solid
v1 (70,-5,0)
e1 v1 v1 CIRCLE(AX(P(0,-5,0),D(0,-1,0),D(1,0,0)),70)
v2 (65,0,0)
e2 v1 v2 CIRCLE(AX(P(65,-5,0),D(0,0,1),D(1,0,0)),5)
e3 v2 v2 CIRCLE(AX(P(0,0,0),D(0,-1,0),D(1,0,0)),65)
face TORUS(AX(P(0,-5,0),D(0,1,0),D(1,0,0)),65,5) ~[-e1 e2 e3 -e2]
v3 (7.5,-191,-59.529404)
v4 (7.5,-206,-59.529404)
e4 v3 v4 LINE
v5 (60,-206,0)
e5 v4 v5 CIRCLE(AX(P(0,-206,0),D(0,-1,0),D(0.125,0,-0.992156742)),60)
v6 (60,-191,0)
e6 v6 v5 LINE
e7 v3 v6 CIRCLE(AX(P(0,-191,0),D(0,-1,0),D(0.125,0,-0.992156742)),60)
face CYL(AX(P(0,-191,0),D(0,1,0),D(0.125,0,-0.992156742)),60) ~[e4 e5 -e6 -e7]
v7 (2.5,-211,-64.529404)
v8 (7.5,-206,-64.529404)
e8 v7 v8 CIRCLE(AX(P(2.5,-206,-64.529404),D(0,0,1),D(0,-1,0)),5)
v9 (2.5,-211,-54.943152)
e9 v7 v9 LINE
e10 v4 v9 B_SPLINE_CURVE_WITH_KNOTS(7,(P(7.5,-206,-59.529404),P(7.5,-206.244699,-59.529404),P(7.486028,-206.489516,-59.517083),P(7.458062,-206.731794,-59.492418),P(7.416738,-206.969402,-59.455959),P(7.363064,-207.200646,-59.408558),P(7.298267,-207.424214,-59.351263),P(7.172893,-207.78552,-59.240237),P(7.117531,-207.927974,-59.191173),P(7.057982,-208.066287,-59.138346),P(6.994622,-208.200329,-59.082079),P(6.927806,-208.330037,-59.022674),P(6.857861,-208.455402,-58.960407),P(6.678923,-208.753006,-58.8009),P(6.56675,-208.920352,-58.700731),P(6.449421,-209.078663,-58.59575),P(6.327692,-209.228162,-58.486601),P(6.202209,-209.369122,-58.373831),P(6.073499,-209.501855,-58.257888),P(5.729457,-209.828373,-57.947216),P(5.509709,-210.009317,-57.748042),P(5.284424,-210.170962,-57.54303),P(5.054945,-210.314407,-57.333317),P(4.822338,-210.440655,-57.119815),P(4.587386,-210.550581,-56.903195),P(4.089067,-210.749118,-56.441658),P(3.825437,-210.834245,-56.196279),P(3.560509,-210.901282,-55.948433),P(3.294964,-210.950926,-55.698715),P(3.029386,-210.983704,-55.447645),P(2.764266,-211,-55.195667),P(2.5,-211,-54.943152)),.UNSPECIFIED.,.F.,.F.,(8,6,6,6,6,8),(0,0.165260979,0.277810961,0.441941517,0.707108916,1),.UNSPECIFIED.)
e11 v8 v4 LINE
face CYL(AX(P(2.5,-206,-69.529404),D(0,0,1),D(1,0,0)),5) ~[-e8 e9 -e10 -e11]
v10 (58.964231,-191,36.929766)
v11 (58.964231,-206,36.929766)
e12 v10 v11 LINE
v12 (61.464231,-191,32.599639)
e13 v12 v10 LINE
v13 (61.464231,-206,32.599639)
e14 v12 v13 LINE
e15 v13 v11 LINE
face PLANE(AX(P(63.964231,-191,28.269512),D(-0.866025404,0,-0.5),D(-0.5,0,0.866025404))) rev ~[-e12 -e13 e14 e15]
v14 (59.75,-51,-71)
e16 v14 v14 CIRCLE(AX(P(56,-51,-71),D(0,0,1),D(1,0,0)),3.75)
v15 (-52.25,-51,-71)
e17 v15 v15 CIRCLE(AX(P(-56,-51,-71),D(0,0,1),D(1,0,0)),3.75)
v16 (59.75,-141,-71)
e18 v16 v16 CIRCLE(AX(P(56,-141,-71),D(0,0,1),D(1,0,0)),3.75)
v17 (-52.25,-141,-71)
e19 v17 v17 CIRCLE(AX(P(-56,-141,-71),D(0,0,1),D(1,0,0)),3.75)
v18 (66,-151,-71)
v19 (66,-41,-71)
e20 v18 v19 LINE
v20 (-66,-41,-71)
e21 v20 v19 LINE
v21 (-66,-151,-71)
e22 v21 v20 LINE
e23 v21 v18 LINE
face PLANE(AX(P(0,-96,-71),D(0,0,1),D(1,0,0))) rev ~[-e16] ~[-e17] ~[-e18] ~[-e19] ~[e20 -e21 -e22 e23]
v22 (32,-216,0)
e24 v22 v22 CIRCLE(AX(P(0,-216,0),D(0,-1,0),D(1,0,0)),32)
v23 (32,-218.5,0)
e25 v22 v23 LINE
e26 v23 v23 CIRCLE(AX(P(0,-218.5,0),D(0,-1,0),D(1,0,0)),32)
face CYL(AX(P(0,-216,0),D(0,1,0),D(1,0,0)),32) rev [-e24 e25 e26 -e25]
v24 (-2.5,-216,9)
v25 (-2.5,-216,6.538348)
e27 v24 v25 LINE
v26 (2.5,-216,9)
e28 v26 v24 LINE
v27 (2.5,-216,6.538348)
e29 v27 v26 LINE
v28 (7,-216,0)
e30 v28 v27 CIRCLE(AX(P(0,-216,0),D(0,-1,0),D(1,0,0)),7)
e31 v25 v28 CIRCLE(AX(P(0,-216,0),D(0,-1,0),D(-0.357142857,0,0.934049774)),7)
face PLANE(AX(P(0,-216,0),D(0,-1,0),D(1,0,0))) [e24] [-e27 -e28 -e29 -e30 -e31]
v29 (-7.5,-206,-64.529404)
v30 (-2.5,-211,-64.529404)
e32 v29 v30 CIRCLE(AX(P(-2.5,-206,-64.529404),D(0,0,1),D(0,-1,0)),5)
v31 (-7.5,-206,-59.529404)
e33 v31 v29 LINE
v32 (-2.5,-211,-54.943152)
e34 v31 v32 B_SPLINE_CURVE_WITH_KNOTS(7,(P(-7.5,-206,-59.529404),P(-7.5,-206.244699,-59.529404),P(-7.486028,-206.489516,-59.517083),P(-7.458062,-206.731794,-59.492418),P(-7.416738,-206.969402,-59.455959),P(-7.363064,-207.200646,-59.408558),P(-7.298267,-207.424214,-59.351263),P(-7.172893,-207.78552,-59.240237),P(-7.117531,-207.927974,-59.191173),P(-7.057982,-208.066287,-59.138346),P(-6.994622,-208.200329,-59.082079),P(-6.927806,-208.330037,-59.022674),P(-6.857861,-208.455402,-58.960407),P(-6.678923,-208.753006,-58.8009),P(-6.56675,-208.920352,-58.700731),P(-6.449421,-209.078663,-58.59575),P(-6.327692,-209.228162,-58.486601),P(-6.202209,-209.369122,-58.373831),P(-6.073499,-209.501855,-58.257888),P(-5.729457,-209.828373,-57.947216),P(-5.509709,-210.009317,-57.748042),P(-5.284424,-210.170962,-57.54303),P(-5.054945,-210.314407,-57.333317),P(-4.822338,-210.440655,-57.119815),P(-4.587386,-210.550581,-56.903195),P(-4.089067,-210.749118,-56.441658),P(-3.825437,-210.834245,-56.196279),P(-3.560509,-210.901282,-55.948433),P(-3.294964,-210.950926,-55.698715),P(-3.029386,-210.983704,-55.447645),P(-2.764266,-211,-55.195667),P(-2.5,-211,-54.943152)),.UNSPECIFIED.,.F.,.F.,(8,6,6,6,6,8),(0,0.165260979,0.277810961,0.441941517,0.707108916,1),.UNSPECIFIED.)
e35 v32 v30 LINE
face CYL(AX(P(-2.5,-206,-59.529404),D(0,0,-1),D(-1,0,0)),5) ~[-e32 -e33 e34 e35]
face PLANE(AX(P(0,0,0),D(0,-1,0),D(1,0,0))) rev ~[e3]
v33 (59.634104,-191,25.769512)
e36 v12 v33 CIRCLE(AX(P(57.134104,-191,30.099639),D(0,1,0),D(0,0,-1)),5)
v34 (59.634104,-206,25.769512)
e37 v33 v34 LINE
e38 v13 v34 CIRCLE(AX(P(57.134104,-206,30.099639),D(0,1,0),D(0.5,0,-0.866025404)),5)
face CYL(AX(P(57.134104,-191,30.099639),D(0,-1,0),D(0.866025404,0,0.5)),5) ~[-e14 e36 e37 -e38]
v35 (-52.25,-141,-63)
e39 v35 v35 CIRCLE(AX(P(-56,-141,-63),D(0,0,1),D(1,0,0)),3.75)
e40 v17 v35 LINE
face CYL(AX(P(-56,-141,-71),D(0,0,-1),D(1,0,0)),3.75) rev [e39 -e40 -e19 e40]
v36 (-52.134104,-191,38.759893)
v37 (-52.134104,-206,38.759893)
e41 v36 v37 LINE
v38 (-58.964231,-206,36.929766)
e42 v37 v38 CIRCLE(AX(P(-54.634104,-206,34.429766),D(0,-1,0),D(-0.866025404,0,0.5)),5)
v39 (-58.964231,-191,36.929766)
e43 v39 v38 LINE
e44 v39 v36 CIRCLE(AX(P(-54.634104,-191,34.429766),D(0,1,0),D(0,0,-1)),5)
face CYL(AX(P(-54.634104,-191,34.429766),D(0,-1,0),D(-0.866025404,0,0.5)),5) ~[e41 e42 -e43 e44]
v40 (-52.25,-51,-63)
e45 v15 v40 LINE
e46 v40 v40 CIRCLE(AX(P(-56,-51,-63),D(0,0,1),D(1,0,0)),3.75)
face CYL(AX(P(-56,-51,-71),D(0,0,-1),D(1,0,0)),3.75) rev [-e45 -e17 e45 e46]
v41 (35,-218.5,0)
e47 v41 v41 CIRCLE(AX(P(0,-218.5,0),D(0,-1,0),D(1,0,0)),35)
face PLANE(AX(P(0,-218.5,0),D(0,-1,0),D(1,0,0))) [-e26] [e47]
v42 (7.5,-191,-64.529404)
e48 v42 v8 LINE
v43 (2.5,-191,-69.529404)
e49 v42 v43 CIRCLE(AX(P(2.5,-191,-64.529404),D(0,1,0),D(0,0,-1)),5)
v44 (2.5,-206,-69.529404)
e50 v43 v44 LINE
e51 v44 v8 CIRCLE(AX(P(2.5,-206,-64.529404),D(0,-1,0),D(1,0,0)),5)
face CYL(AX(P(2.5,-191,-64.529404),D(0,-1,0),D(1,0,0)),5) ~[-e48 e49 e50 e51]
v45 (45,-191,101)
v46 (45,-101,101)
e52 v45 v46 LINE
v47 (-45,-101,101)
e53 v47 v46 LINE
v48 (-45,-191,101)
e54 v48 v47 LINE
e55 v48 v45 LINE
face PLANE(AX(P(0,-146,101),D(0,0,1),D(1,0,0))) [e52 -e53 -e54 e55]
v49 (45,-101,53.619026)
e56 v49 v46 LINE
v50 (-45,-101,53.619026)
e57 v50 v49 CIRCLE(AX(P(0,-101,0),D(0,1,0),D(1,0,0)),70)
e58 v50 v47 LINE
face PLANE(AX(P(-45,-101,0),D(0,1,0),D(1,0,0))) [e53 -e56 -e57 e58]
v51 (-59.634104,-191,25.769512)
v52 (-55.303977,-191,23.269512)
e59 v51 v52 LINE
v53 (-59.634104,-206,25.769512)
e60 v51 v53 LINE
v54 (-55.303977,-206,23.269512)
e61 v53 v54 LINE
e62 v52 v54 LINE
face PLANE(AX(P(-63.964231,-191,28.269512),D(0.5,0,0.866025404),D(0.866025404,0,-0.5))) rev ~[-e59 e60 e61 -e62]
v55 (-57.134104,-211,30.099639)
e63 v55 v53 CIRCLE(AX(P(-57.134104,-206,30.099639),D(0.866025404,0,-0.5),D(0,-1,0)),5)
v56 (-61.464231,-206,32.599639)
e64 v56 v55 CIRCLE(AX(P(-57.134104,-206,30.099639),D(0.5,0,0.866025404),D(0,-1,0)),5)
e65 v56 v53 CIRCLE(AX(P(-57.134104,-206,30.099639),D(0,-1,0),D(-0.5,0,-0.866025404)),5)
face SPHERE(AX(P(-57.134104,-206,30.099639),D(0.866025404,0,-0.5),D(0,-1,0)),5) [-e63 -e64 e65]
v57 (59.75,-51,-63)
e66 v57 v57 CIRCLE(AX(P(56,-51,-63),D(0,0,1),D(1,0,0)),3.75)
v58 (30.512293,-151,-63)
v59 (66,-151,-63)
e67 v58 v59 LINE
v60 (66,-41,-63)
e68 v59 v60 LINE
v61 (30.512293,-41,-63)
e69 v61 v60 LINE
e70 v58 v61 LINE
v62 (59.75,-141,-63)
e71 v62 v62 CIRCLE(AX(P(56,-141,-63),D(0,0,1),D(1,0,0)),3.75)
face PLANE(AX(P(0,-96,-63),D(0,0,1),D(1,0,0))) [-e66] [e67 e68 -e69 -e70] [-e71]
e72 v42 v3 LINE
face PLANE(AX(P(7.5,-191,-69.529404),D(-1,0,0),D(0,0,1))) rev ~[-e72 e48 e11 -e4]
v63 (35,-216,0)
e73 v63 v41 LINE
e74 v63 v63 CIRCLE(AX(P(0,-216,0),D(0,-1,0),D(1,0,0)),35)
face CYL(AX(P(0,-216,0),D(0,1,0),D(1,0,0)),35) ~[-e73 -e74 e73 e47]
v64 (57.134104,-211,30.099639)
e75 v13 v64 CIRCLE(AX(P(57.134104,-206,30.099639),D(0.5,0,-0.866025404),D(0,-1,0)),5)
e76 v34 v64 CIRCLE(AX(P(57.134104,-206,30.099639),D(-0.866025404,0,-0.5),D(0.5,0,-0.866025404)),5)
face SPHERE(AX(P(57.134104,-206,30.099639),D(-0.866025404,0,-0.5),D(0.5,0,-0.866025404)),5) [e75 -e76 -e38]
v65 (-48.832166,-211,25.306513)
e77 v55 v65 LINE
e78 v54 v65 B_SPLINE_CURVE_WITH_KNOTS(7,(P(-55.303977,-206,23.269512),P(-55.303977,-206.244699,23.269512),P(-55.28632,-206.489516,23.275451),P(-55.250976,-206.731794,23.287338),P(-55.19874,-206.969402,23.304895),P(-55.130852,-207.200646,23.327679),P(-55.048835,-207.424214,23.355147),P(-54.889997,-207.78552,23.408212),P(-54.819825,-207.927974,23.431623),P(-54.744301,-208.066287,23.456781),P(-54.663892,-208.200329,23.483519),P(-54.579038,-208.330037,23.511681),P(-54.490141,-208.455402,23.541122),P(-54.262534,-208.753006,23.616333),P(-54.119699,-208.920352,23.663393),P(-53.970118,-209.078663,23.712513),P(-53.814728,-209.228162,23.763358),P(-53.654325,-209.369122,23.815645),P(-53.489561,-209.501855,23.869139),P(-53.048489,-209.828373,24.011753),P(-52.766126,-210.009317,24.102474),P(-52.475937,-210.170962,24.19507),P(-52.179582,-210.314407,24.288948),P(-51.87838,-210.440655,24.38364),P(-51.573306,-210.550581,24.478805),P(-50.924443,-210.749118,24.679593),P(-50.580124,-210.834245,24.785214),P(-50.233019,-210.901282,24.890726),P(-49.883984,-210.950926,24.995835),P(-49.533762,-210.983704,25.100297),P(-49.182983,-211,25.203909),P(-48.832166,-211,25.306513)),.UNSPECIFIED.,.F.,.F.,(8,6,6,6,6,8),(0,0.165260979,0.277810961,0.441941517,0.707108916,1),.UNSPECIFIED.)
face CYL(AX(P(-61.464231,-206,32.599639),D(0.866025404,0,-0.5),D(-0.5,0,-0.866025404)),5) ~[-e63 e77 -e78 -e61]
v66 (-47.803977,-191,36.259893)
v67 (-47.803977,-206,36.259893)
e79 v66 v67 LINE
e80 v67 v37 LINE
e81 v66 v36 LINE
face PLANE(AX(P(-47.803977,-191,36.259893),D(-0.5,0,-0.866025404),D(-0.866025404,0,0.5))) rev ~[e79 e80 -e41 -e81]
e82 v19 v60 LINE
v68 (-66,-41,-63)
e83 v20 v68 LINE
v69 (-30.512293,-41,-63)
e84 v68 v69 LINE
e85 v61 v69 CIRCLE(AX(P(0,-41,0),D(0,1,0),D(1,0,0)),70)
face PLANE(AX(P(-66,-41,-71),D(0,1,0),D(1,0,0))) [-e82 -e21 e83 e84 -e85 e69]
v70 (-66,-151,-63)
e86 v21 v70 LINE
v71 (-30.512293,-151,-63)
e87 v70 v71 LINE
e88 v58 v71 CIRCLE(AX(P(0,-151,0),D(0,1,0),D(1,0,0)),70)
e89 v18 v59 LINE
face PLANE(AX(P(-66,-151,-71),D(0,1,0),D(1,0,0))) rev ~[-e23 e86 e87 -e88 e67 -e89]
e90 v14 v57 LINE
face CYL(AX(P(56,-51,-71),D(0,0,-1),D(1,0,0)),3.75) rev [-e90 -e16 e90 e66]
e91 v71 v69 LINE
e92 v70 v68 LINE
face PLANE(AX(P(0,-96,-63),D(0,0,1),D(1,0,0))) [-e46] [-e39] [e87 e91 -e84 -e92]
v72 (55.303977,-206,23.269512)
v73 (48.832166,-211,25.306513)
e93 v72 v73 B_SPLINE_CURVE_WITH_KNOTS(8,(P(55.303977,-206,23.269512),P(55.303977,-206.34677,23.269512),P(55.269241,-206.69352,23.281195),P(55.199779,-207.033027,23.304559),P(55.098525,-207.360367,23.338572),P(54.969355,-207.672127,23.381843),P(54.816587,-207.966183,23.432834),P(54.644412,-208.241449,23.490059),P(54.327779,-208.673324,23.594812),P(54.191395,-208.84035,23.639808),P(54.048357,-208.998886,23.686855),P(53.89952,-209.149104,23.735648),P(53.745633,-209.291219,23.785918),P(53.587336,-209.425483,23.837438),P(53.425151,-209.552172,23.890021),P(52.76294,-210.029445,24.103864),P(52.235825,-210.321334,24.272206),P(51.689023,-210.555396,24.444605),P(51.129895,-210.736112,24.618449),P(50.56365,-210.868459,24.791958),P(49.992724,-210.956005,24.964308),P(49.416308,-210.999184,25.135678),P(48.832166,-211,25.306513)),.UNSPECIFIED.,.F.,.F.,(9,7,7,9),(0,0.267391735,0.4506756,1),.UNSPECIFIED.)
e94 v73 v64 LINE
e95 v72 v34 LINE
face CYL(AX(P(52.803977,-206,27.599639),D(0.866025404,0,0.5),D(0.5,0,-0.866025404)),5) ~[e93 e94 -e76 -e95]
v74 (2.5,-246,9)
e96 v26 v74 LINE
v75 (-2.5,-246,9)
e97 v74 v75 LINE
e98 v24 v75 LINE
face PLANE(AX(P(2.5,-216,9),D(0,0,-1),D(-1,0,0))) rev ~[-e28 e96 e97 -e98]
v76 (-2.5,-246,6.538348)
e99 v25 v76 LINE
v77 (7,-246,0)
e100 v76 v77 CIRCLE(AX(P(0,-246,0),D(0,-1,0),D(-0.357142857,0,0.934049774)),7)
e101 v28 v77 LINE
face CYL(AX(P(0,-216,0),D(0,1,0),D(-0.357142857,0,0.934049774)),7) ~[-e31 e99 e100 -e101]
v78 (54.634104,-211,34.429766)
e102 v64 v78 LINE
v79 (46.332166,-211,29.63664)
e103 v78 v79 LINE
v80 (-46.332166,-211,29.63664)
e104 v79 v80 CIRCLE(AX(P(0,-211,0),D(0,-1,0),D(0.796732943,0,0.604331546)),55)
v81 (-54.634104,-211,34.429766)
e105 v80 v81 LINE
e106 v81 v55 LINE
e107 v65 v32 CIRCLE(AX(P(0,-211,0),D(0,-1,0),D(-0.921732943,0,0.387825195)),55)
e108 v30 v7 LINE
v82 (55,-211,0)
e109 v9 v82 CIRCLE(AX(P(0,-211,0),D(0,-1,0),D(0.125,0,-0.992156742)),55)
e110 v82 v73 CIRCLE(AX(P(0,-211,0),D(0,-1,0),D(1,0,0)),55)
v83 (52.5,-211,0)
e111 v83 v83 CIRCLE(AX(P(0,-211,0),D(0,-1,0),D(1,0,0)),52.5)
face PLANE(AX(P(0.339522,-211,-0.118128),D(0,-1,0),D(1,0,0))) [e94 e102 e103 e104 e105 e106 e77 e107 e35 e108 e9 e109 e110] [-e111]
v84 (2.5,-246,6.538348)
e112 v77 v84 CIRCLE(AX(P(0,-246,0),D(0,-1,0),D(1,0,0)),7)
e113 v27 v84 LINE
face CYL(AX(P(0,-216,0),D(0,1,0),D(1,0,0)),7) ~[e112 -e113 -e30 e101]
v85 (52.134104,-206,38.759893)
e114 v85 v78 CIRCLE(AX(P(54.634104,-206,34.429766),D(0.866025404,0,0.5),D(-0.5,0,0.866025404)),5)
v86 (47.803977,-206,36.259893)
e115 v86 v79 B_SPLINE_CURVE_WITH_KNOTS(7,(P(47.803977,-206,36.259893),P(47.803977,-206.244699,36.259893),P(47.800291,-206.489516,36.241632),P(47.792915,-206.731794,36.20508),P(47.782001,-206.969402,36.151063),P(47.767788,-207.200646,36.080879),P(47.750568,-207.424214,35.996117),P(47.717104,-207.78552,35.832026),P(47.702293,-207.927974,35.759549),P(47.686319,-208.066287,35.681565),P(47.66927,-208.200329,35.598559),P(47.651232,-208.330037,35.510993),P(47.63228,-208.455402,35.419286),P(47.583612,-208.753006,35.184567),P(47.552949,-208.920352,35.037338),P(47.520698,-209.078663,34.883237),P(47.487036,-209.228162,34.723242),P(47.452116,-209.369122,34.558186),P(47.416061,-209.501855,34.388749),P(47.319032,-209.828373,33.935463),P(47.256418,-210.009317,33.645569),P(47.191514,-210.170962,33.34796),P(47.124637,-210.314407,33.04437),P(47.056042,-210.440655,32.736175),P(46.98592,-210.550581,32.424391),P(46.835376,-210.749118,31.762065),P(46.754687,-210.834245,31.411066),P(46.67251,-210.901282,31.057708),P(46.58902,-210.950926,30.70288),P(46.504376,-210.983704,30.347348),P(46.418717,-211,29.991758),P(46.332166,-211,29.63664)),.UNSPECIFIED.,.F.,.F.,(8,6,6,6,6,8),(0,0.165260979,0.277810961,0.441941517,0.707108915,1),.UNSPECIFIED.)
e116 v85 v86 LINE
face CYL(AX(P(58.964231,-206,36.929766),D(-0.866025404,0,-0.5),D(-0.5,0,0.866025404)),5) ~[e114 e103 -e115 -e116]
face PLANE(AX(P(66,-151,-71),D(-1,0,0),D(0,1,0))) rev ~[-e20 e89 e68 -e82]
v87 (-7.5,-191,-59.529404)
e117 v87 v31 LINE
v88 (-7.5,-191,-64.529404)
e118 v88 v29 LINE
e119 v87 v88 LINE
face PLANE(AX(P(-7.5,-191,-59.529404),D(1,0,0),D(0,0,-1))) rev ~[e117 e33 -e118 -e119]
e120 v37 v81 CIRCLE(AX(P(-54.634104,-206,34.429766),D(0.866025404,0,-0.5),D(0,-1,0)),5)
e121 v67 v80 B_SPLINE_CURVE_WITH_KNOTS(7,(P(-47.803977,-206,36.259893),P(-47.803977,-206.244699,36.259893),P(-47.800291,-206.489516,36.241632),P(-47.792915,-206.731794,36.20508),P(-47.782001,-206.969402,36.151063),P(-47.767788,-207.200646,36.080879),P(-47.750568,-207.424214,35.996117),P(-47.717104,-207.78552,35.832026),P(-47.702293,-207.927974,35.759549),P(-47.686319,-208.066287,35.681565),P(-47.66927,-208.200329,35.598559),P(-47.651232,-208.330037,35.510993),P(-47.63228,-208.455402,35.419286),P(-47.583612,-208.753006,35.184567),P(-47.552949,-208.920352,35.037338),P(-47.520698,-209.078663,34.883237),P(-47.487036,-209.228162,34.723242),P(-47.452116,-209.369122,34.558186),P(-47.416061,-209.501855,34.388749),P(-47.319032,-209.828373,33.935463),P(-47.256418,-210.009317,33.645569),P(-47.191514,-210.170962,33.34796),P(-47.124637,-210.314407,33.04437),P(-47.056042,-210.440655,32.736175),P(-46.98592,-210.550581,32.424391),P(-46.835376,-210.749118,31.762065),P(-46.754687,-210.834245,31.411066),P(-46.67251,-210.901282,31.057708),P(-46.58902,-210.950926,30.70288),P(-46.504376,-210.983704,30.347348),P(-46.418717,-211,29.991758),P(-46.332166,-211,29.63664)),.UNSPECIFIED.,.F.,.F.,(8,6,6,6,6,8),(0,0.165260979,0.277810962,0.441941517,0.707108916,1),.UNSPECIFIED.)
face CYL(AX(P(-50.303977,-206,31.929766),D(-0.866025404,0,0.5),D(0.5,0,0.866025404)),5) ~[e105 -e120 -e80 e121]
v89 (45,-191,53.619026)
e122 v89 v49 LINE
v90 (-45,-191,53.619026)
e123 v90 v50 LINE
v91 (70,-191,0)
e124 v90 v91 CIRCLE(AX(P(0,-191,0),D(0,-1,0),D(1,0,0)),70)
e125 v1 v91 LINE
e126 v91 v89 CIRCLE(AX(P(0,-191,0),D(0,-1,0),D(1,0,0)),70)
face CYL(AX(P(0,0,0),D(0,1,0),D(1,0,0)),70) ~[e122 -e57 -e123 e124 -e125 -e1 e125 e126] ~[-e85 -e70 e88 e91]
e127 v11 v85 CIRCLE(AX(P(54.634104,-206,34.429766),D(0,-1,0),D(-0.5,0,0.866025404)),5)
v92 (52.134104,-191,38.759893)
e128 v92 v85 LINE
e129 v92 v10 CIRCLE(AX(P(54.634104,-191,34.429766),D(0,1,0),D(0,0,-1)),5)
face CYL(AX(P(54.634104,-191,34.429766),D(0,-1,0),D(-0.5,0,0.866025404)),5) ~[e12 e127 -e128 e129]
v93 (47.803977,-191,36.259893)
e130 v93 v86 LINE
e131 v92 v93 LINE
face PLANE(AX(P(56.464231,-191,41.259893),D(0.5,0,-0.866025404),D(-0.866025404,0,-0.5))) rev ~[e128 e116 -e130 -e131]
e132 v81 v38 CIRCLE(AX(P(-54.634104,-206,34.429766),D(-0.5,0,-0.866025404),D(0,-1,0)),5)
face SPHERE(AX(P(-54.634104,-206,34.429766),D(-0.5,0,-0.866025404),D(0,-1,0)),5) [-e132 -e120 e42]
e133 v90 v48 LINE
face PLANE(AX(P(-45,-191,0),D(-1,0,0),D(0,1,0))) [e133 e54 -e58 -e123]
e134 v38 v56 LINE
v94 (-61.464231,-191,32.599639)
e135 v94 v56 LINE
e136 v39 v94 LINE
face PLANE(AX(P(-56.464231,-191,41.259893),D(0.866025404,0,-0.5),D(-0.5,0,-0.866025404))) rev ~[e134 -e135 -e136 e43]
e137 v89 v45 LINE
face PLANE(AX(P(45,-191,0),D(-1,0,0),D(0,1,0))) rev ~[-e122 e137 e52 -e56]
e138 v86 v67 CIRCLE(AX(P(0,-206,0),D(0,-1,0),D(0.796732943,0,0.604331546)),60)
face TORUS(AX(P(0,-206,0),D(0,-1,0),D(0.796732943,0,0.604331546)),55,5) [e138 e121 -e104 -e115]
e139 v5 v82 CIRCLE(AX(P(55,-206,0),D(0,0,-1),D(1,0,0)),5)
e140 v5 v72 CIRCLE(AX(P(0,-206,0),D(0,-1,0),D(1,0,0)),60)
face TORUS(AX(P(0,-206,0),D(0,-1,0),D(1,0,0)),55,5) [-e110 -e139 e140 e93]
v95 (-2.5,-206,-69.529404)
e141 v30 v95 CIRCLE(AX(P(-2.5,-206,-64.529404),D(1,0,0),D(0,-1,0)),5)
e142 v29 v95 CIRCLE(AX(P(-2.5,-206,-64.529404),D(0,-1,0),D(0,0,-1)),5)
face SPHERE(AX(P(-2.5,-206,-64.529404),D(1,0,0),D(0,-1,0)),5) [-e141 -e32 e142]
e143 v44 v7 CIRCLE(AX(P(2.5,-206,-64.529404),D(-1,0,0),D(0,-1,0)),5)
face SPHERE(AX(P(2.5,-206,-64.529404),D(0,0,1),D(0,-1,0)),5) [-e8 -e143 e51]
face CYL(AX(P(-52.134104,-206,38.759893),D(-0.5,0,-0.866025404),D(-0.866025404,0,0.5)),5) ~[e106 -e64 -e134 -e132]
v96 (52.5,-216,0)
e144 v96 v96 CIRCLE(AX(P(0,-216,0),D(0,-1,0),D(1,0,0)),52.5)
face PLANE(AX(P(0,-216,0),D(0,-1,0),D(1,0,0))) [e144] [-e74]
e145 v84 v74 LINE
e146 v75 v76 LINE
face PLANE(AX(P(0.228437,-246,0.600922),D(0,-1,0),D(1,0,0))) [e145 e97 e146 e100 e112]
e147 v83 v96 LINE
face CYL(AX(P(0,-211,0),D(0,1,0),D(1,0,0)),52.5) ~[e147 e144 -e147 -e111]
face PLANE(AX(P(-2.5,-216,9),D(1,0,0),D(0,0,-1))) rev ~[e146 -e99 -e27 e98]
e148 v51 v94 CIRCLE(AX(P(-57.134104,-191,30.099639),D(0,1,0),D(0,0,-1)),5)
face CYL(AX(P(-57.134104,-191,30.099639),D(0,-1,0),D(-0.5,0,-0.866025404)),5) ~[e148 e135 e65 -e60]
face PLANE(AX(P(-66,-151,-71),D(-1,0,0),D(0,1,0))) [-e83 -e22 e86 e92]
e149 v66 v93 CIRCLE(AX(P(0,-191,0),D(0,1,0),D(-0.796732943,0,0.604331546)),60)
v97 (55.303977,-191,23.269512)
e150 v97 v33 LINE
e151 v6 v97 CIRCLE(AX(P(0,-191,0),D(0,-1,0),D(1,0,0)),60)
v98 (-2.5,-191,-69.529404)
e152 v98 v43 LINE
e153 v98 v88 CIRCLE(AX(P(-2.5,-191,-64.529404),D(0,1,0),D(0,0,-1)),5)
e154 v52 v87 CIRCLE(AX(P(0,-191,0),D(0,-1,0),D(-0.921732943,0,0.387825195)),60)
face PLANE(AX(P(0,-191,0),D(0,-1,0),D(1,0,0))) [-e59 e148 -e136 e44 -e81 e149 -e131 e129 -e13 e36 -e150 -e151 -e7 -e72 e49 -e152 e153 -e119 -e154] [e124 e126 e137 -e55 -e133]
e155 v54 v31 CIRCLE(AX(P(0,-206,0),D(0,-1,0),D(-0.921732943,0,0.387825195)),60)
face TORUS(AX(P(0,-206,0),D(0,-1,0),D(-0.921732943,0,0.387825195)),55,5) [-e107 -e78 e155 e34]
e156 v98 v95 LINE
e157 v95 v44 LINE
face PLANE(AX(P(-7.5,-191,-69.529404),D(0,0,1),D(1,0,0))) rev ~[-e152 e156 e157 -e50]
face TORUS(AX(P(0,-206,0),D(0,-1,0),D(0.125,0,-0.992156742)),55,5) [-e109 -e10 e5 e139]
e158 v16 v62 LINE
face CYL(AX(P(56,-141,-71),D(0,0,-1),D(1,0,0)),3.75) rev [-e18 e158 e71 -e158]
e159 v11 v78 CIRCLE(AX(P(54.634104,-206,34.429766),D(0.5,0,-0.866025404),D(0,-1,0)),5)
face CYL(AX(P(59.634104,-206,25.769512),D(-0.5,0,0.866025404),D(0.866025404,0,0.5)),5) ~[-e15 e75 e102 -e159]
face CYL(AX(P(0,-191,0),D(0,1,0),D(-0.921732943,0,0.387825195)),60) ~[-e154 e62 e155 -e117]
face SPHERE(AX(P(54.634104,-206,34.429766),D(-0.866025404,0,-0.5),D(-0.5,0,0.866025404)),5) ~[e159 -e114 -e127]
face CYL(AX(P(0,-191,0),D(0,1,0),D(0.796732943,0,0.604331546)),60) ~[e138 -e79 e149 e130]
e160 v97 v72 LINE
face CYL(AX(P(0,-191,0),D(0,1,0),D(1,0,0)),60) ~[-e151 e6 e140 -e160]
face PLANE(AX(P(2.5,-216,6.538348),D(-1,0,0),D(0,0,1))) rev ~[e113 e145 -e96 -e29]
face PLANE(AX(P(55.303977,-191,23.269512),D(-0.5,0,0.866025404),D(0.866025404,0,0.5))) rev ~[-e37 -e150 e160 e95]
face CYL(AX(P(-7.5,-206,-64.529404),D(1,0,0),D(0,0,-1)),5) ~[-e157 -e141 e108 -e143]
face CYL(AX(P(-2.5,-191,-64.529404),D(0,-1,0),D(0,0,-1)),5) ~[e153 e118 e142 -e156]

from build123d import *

# Parameters (mm, degrees)
F0_R      = 70
F1_DEPTH  = 191
F3_DEPTH  = 20
F4_R      = 52.5
F5_DEPTH  = 5
F6_R      = 35
F6_R_2    = 32
F7_DEPTH  = 2.5
F9_DEPTH  = 30
F10_W     = 90
F10_H     = 90
F11_DEPTH = 101
F13_W     = 132
F13_H     = 110
F13_R     = 3.75
F14_DEPTH = 8
F15_R     = 5


with BuildPart() as f1:
    # F0 (on Front) → F1 (new body)
    with BuildSketch(Plane.XZ):
        Circle(F0_R)
    extrude(amount=F1_DEPTH)

    # F2 (on face) → F3 (join)
    with BuildSketch(Plane.XZ.offset(191)):
        with BuildLine():
            ThreePointArc((7.5, -59.529404499), (45, -39.686269666), (60, 0))
            ThreePointArc((60, 0), (58.8142780033, 11.8693177122), (55.3039765683, 23.2695117211))
            Line((55.3039765683, 23.2695117211), (47.8039765683, 36.2598927779))
            ThreePointArc((47.8039765683, 36.2598927779), (0, 60), (-47.8039765683, 36.2598927779))
            Line((-47.8039765683, 36.2598927779), (-55.3039765683, 23.2695117211))
            ThreePointArc((-55.3039765683, 23.2695117211), (-51.9615242271, -30), (-7.5, -59.529404499))
            Line((-7.5, -59.529404499), (7.5, -59.529404499))
        make_face()
        with BuildLine():
            Line((47.8039765683, 36.2598927779), (55.3039765683, 23.2695117211))
            ThreePointArc((55.3039765683, 23.2695117211), (51.9615242271, 30), (47.8039765683, 36.2598927779))
        make_face()
        with BuildLine():
            ThreePointArc((47.8039765683, 36.2598927779), (51.9615242271, 30), (55.3039765683, 23.2695117211))
            Line((55.3039765683, 23.2695117211), (63.9642306061, 28.2695117211))
            Line((63.9642306061, 28.2695117211), (56.4642306061, 41.2598927779))
            Line((56.4642306061, 41.2598927779), (47.8039765683, 36.2598927779))
        make_face()
        with BuildLine():
            Line((7.5, -69.529404499), (7.5, -59.529404499))
            ThreePointArc((7.5, -59.529404499), (0, -60), (-7.5, -59.529404499))
            Line((-7.5, -59.529404499), (-7.5, -69.529404499))
            Line((-7.5, -69.529404499), (7.5, -69.529404499))
        make_face()
        with BuildLine():
            ThreePointArc((-7.5, -59.529404499), (0, -60), (7.5, -59.529404499))
            Line((7.5, -59.529404499), (-7.5, -59.529404499))
        make_face()
        with BuildLine():
            Line((-55.3039765683, 23.2695117211), (-47.8039765683, 36.2598927779))
            ThreePointArc((-47.8039765683, 36.2598927779), (-51.9615242271, 30), (-55.3039765683, 23.2695117211))
        make_face()
        with BuildLine():
            ThreePointArc((-55.3039765683, 23.2695117211), (-51.9615242271, 30), (-47.8039765683, 36.2598927779))
            Line((-47.8039765683, 36.2598927779), (-56.4642306061, 41.2598927779))
            Line((-56.4642306061, 41.2598927779), (-63.9642306061, 28.2695117211))
            Line((-63.9642306061, 28.2695117211), (-55.3039765683, 23.2695117211))
        make_face()
    extrude(amount=F3_DEPTH)

    # F4 (on face) → F5 (join)
    with BuildSketch(Plane.XZ.offset(211)):
        Circle(F4_R)
    extrude(amount=F5_DEPTH)

    # F6 (on face) → F7 (join)
    with BuildSketch(Plane.XZ.offset(216)):
        Circle(F6_R)
        Circle(F6_R_2, mode=Mode.SUBTRACT)
    extrude(amount=F7_DEPTH)

    # F8 (on face) → F9 (join)
    with BuildSketch(Plane.XZ.offset(216)):
        with BuildLine():
            ThreePointArc((-2.5, 6.5383484153), (-3.9686269666, -5.7662812973), (7, 0))
            ThreePointArc((7, 0), (5.7662812973, 3.9686269666), (2.5, 6.5383484153))
            Line((2.5, 6.5383484153), (2.5, 4))
            Line((2.5, 4), (-2.5, 4))
            Line((-2.5, 4), (-2.5, 6.5383484153))
        make_face()
        with BuildLine():
            Line((2.5, 4), (2.5, 6.5383484153))
            ThreePointArc((2.5, 6.5383484153), (0, 7), (-2.5, 6.5383484153))
            Line((-2.5, 6.5383484153), (-2.5, 4))
            Line((-2.5, 4), (2.5, 4))
        make_face()
        with BuildLine():
            ThreePointArc((-2.5, 6.5383484153), (0, 7), (2.5, 6.5383484153))
            Line((2.5, 6.5383484153), (2.5, 9))
            Line((2.5, 9), (-2.5, 9))
            Line((-2.5, 9), (-2.5, 6.5383484153))
        make_face()
    extrude(amount=F9_DEPTH)

    # F10 (on Top) → F11 (join)
    with BuildSketch(Plane.XY):
        with Locations((0, -146)):
            Rectangle(F10_W, F10_H)
    extrude(amount=F11_DEPTH)

    # F13 (on offset) → F14 (join)
    with BuildSketch(Plane.XY.offset(-71)):
        with Locations((0, -96)):
            Rectangle(F13_W, F13_H)
        with Locations((-56, -141)):
            Circle(F13_R, mode=Mode.SUBTRACT)
        with Locations((56, -141)):
            Circle(F13_R, mode=Mode.SUBTRACT)
        with Locations((-56, -51)):
            Circle(F13_R, mode=Mode.SUBTRACT)
        with Locations((56, -51)):
            Circle(F13_R, mode=Mode.SUBTRACT)
    extrude(amount=F14_DEPTH)

    # F15
    f15_edges = [f1.edges().sort_by_distance(p)[0] for p in [
        (-70, 0, 0),
        (0, -211, 60),
        (52.134104, -211, 38.759893),
        (59.634104, -211, 25.769512),
        (-51.961524, -211, -30),
        (7.5, -211, -64.529404),
        (0, -211, -69.529404),
        (-7.5, -211, -64.529404),
        (51.961524, -211, -30),
        (-59.634104, -211, 25.769512),
        (-60.214231, -211, 34.764702),
        (-52.134104, -211, 38.759893),
        (-56.464231, -201, 41.259893),
        (-63.964231, -201, 28.269512),
        (56.464231, -201, 41.259893),
        (63.964231, -201, 28.269512),
        (7.5, -201, -69.529404),
        (-7.5, -201, -69.529404),
        (60.214231, -211, 34.764702),
    ]]
    fillet(f15_edges, radius=F15_R)


solid = f1.part
